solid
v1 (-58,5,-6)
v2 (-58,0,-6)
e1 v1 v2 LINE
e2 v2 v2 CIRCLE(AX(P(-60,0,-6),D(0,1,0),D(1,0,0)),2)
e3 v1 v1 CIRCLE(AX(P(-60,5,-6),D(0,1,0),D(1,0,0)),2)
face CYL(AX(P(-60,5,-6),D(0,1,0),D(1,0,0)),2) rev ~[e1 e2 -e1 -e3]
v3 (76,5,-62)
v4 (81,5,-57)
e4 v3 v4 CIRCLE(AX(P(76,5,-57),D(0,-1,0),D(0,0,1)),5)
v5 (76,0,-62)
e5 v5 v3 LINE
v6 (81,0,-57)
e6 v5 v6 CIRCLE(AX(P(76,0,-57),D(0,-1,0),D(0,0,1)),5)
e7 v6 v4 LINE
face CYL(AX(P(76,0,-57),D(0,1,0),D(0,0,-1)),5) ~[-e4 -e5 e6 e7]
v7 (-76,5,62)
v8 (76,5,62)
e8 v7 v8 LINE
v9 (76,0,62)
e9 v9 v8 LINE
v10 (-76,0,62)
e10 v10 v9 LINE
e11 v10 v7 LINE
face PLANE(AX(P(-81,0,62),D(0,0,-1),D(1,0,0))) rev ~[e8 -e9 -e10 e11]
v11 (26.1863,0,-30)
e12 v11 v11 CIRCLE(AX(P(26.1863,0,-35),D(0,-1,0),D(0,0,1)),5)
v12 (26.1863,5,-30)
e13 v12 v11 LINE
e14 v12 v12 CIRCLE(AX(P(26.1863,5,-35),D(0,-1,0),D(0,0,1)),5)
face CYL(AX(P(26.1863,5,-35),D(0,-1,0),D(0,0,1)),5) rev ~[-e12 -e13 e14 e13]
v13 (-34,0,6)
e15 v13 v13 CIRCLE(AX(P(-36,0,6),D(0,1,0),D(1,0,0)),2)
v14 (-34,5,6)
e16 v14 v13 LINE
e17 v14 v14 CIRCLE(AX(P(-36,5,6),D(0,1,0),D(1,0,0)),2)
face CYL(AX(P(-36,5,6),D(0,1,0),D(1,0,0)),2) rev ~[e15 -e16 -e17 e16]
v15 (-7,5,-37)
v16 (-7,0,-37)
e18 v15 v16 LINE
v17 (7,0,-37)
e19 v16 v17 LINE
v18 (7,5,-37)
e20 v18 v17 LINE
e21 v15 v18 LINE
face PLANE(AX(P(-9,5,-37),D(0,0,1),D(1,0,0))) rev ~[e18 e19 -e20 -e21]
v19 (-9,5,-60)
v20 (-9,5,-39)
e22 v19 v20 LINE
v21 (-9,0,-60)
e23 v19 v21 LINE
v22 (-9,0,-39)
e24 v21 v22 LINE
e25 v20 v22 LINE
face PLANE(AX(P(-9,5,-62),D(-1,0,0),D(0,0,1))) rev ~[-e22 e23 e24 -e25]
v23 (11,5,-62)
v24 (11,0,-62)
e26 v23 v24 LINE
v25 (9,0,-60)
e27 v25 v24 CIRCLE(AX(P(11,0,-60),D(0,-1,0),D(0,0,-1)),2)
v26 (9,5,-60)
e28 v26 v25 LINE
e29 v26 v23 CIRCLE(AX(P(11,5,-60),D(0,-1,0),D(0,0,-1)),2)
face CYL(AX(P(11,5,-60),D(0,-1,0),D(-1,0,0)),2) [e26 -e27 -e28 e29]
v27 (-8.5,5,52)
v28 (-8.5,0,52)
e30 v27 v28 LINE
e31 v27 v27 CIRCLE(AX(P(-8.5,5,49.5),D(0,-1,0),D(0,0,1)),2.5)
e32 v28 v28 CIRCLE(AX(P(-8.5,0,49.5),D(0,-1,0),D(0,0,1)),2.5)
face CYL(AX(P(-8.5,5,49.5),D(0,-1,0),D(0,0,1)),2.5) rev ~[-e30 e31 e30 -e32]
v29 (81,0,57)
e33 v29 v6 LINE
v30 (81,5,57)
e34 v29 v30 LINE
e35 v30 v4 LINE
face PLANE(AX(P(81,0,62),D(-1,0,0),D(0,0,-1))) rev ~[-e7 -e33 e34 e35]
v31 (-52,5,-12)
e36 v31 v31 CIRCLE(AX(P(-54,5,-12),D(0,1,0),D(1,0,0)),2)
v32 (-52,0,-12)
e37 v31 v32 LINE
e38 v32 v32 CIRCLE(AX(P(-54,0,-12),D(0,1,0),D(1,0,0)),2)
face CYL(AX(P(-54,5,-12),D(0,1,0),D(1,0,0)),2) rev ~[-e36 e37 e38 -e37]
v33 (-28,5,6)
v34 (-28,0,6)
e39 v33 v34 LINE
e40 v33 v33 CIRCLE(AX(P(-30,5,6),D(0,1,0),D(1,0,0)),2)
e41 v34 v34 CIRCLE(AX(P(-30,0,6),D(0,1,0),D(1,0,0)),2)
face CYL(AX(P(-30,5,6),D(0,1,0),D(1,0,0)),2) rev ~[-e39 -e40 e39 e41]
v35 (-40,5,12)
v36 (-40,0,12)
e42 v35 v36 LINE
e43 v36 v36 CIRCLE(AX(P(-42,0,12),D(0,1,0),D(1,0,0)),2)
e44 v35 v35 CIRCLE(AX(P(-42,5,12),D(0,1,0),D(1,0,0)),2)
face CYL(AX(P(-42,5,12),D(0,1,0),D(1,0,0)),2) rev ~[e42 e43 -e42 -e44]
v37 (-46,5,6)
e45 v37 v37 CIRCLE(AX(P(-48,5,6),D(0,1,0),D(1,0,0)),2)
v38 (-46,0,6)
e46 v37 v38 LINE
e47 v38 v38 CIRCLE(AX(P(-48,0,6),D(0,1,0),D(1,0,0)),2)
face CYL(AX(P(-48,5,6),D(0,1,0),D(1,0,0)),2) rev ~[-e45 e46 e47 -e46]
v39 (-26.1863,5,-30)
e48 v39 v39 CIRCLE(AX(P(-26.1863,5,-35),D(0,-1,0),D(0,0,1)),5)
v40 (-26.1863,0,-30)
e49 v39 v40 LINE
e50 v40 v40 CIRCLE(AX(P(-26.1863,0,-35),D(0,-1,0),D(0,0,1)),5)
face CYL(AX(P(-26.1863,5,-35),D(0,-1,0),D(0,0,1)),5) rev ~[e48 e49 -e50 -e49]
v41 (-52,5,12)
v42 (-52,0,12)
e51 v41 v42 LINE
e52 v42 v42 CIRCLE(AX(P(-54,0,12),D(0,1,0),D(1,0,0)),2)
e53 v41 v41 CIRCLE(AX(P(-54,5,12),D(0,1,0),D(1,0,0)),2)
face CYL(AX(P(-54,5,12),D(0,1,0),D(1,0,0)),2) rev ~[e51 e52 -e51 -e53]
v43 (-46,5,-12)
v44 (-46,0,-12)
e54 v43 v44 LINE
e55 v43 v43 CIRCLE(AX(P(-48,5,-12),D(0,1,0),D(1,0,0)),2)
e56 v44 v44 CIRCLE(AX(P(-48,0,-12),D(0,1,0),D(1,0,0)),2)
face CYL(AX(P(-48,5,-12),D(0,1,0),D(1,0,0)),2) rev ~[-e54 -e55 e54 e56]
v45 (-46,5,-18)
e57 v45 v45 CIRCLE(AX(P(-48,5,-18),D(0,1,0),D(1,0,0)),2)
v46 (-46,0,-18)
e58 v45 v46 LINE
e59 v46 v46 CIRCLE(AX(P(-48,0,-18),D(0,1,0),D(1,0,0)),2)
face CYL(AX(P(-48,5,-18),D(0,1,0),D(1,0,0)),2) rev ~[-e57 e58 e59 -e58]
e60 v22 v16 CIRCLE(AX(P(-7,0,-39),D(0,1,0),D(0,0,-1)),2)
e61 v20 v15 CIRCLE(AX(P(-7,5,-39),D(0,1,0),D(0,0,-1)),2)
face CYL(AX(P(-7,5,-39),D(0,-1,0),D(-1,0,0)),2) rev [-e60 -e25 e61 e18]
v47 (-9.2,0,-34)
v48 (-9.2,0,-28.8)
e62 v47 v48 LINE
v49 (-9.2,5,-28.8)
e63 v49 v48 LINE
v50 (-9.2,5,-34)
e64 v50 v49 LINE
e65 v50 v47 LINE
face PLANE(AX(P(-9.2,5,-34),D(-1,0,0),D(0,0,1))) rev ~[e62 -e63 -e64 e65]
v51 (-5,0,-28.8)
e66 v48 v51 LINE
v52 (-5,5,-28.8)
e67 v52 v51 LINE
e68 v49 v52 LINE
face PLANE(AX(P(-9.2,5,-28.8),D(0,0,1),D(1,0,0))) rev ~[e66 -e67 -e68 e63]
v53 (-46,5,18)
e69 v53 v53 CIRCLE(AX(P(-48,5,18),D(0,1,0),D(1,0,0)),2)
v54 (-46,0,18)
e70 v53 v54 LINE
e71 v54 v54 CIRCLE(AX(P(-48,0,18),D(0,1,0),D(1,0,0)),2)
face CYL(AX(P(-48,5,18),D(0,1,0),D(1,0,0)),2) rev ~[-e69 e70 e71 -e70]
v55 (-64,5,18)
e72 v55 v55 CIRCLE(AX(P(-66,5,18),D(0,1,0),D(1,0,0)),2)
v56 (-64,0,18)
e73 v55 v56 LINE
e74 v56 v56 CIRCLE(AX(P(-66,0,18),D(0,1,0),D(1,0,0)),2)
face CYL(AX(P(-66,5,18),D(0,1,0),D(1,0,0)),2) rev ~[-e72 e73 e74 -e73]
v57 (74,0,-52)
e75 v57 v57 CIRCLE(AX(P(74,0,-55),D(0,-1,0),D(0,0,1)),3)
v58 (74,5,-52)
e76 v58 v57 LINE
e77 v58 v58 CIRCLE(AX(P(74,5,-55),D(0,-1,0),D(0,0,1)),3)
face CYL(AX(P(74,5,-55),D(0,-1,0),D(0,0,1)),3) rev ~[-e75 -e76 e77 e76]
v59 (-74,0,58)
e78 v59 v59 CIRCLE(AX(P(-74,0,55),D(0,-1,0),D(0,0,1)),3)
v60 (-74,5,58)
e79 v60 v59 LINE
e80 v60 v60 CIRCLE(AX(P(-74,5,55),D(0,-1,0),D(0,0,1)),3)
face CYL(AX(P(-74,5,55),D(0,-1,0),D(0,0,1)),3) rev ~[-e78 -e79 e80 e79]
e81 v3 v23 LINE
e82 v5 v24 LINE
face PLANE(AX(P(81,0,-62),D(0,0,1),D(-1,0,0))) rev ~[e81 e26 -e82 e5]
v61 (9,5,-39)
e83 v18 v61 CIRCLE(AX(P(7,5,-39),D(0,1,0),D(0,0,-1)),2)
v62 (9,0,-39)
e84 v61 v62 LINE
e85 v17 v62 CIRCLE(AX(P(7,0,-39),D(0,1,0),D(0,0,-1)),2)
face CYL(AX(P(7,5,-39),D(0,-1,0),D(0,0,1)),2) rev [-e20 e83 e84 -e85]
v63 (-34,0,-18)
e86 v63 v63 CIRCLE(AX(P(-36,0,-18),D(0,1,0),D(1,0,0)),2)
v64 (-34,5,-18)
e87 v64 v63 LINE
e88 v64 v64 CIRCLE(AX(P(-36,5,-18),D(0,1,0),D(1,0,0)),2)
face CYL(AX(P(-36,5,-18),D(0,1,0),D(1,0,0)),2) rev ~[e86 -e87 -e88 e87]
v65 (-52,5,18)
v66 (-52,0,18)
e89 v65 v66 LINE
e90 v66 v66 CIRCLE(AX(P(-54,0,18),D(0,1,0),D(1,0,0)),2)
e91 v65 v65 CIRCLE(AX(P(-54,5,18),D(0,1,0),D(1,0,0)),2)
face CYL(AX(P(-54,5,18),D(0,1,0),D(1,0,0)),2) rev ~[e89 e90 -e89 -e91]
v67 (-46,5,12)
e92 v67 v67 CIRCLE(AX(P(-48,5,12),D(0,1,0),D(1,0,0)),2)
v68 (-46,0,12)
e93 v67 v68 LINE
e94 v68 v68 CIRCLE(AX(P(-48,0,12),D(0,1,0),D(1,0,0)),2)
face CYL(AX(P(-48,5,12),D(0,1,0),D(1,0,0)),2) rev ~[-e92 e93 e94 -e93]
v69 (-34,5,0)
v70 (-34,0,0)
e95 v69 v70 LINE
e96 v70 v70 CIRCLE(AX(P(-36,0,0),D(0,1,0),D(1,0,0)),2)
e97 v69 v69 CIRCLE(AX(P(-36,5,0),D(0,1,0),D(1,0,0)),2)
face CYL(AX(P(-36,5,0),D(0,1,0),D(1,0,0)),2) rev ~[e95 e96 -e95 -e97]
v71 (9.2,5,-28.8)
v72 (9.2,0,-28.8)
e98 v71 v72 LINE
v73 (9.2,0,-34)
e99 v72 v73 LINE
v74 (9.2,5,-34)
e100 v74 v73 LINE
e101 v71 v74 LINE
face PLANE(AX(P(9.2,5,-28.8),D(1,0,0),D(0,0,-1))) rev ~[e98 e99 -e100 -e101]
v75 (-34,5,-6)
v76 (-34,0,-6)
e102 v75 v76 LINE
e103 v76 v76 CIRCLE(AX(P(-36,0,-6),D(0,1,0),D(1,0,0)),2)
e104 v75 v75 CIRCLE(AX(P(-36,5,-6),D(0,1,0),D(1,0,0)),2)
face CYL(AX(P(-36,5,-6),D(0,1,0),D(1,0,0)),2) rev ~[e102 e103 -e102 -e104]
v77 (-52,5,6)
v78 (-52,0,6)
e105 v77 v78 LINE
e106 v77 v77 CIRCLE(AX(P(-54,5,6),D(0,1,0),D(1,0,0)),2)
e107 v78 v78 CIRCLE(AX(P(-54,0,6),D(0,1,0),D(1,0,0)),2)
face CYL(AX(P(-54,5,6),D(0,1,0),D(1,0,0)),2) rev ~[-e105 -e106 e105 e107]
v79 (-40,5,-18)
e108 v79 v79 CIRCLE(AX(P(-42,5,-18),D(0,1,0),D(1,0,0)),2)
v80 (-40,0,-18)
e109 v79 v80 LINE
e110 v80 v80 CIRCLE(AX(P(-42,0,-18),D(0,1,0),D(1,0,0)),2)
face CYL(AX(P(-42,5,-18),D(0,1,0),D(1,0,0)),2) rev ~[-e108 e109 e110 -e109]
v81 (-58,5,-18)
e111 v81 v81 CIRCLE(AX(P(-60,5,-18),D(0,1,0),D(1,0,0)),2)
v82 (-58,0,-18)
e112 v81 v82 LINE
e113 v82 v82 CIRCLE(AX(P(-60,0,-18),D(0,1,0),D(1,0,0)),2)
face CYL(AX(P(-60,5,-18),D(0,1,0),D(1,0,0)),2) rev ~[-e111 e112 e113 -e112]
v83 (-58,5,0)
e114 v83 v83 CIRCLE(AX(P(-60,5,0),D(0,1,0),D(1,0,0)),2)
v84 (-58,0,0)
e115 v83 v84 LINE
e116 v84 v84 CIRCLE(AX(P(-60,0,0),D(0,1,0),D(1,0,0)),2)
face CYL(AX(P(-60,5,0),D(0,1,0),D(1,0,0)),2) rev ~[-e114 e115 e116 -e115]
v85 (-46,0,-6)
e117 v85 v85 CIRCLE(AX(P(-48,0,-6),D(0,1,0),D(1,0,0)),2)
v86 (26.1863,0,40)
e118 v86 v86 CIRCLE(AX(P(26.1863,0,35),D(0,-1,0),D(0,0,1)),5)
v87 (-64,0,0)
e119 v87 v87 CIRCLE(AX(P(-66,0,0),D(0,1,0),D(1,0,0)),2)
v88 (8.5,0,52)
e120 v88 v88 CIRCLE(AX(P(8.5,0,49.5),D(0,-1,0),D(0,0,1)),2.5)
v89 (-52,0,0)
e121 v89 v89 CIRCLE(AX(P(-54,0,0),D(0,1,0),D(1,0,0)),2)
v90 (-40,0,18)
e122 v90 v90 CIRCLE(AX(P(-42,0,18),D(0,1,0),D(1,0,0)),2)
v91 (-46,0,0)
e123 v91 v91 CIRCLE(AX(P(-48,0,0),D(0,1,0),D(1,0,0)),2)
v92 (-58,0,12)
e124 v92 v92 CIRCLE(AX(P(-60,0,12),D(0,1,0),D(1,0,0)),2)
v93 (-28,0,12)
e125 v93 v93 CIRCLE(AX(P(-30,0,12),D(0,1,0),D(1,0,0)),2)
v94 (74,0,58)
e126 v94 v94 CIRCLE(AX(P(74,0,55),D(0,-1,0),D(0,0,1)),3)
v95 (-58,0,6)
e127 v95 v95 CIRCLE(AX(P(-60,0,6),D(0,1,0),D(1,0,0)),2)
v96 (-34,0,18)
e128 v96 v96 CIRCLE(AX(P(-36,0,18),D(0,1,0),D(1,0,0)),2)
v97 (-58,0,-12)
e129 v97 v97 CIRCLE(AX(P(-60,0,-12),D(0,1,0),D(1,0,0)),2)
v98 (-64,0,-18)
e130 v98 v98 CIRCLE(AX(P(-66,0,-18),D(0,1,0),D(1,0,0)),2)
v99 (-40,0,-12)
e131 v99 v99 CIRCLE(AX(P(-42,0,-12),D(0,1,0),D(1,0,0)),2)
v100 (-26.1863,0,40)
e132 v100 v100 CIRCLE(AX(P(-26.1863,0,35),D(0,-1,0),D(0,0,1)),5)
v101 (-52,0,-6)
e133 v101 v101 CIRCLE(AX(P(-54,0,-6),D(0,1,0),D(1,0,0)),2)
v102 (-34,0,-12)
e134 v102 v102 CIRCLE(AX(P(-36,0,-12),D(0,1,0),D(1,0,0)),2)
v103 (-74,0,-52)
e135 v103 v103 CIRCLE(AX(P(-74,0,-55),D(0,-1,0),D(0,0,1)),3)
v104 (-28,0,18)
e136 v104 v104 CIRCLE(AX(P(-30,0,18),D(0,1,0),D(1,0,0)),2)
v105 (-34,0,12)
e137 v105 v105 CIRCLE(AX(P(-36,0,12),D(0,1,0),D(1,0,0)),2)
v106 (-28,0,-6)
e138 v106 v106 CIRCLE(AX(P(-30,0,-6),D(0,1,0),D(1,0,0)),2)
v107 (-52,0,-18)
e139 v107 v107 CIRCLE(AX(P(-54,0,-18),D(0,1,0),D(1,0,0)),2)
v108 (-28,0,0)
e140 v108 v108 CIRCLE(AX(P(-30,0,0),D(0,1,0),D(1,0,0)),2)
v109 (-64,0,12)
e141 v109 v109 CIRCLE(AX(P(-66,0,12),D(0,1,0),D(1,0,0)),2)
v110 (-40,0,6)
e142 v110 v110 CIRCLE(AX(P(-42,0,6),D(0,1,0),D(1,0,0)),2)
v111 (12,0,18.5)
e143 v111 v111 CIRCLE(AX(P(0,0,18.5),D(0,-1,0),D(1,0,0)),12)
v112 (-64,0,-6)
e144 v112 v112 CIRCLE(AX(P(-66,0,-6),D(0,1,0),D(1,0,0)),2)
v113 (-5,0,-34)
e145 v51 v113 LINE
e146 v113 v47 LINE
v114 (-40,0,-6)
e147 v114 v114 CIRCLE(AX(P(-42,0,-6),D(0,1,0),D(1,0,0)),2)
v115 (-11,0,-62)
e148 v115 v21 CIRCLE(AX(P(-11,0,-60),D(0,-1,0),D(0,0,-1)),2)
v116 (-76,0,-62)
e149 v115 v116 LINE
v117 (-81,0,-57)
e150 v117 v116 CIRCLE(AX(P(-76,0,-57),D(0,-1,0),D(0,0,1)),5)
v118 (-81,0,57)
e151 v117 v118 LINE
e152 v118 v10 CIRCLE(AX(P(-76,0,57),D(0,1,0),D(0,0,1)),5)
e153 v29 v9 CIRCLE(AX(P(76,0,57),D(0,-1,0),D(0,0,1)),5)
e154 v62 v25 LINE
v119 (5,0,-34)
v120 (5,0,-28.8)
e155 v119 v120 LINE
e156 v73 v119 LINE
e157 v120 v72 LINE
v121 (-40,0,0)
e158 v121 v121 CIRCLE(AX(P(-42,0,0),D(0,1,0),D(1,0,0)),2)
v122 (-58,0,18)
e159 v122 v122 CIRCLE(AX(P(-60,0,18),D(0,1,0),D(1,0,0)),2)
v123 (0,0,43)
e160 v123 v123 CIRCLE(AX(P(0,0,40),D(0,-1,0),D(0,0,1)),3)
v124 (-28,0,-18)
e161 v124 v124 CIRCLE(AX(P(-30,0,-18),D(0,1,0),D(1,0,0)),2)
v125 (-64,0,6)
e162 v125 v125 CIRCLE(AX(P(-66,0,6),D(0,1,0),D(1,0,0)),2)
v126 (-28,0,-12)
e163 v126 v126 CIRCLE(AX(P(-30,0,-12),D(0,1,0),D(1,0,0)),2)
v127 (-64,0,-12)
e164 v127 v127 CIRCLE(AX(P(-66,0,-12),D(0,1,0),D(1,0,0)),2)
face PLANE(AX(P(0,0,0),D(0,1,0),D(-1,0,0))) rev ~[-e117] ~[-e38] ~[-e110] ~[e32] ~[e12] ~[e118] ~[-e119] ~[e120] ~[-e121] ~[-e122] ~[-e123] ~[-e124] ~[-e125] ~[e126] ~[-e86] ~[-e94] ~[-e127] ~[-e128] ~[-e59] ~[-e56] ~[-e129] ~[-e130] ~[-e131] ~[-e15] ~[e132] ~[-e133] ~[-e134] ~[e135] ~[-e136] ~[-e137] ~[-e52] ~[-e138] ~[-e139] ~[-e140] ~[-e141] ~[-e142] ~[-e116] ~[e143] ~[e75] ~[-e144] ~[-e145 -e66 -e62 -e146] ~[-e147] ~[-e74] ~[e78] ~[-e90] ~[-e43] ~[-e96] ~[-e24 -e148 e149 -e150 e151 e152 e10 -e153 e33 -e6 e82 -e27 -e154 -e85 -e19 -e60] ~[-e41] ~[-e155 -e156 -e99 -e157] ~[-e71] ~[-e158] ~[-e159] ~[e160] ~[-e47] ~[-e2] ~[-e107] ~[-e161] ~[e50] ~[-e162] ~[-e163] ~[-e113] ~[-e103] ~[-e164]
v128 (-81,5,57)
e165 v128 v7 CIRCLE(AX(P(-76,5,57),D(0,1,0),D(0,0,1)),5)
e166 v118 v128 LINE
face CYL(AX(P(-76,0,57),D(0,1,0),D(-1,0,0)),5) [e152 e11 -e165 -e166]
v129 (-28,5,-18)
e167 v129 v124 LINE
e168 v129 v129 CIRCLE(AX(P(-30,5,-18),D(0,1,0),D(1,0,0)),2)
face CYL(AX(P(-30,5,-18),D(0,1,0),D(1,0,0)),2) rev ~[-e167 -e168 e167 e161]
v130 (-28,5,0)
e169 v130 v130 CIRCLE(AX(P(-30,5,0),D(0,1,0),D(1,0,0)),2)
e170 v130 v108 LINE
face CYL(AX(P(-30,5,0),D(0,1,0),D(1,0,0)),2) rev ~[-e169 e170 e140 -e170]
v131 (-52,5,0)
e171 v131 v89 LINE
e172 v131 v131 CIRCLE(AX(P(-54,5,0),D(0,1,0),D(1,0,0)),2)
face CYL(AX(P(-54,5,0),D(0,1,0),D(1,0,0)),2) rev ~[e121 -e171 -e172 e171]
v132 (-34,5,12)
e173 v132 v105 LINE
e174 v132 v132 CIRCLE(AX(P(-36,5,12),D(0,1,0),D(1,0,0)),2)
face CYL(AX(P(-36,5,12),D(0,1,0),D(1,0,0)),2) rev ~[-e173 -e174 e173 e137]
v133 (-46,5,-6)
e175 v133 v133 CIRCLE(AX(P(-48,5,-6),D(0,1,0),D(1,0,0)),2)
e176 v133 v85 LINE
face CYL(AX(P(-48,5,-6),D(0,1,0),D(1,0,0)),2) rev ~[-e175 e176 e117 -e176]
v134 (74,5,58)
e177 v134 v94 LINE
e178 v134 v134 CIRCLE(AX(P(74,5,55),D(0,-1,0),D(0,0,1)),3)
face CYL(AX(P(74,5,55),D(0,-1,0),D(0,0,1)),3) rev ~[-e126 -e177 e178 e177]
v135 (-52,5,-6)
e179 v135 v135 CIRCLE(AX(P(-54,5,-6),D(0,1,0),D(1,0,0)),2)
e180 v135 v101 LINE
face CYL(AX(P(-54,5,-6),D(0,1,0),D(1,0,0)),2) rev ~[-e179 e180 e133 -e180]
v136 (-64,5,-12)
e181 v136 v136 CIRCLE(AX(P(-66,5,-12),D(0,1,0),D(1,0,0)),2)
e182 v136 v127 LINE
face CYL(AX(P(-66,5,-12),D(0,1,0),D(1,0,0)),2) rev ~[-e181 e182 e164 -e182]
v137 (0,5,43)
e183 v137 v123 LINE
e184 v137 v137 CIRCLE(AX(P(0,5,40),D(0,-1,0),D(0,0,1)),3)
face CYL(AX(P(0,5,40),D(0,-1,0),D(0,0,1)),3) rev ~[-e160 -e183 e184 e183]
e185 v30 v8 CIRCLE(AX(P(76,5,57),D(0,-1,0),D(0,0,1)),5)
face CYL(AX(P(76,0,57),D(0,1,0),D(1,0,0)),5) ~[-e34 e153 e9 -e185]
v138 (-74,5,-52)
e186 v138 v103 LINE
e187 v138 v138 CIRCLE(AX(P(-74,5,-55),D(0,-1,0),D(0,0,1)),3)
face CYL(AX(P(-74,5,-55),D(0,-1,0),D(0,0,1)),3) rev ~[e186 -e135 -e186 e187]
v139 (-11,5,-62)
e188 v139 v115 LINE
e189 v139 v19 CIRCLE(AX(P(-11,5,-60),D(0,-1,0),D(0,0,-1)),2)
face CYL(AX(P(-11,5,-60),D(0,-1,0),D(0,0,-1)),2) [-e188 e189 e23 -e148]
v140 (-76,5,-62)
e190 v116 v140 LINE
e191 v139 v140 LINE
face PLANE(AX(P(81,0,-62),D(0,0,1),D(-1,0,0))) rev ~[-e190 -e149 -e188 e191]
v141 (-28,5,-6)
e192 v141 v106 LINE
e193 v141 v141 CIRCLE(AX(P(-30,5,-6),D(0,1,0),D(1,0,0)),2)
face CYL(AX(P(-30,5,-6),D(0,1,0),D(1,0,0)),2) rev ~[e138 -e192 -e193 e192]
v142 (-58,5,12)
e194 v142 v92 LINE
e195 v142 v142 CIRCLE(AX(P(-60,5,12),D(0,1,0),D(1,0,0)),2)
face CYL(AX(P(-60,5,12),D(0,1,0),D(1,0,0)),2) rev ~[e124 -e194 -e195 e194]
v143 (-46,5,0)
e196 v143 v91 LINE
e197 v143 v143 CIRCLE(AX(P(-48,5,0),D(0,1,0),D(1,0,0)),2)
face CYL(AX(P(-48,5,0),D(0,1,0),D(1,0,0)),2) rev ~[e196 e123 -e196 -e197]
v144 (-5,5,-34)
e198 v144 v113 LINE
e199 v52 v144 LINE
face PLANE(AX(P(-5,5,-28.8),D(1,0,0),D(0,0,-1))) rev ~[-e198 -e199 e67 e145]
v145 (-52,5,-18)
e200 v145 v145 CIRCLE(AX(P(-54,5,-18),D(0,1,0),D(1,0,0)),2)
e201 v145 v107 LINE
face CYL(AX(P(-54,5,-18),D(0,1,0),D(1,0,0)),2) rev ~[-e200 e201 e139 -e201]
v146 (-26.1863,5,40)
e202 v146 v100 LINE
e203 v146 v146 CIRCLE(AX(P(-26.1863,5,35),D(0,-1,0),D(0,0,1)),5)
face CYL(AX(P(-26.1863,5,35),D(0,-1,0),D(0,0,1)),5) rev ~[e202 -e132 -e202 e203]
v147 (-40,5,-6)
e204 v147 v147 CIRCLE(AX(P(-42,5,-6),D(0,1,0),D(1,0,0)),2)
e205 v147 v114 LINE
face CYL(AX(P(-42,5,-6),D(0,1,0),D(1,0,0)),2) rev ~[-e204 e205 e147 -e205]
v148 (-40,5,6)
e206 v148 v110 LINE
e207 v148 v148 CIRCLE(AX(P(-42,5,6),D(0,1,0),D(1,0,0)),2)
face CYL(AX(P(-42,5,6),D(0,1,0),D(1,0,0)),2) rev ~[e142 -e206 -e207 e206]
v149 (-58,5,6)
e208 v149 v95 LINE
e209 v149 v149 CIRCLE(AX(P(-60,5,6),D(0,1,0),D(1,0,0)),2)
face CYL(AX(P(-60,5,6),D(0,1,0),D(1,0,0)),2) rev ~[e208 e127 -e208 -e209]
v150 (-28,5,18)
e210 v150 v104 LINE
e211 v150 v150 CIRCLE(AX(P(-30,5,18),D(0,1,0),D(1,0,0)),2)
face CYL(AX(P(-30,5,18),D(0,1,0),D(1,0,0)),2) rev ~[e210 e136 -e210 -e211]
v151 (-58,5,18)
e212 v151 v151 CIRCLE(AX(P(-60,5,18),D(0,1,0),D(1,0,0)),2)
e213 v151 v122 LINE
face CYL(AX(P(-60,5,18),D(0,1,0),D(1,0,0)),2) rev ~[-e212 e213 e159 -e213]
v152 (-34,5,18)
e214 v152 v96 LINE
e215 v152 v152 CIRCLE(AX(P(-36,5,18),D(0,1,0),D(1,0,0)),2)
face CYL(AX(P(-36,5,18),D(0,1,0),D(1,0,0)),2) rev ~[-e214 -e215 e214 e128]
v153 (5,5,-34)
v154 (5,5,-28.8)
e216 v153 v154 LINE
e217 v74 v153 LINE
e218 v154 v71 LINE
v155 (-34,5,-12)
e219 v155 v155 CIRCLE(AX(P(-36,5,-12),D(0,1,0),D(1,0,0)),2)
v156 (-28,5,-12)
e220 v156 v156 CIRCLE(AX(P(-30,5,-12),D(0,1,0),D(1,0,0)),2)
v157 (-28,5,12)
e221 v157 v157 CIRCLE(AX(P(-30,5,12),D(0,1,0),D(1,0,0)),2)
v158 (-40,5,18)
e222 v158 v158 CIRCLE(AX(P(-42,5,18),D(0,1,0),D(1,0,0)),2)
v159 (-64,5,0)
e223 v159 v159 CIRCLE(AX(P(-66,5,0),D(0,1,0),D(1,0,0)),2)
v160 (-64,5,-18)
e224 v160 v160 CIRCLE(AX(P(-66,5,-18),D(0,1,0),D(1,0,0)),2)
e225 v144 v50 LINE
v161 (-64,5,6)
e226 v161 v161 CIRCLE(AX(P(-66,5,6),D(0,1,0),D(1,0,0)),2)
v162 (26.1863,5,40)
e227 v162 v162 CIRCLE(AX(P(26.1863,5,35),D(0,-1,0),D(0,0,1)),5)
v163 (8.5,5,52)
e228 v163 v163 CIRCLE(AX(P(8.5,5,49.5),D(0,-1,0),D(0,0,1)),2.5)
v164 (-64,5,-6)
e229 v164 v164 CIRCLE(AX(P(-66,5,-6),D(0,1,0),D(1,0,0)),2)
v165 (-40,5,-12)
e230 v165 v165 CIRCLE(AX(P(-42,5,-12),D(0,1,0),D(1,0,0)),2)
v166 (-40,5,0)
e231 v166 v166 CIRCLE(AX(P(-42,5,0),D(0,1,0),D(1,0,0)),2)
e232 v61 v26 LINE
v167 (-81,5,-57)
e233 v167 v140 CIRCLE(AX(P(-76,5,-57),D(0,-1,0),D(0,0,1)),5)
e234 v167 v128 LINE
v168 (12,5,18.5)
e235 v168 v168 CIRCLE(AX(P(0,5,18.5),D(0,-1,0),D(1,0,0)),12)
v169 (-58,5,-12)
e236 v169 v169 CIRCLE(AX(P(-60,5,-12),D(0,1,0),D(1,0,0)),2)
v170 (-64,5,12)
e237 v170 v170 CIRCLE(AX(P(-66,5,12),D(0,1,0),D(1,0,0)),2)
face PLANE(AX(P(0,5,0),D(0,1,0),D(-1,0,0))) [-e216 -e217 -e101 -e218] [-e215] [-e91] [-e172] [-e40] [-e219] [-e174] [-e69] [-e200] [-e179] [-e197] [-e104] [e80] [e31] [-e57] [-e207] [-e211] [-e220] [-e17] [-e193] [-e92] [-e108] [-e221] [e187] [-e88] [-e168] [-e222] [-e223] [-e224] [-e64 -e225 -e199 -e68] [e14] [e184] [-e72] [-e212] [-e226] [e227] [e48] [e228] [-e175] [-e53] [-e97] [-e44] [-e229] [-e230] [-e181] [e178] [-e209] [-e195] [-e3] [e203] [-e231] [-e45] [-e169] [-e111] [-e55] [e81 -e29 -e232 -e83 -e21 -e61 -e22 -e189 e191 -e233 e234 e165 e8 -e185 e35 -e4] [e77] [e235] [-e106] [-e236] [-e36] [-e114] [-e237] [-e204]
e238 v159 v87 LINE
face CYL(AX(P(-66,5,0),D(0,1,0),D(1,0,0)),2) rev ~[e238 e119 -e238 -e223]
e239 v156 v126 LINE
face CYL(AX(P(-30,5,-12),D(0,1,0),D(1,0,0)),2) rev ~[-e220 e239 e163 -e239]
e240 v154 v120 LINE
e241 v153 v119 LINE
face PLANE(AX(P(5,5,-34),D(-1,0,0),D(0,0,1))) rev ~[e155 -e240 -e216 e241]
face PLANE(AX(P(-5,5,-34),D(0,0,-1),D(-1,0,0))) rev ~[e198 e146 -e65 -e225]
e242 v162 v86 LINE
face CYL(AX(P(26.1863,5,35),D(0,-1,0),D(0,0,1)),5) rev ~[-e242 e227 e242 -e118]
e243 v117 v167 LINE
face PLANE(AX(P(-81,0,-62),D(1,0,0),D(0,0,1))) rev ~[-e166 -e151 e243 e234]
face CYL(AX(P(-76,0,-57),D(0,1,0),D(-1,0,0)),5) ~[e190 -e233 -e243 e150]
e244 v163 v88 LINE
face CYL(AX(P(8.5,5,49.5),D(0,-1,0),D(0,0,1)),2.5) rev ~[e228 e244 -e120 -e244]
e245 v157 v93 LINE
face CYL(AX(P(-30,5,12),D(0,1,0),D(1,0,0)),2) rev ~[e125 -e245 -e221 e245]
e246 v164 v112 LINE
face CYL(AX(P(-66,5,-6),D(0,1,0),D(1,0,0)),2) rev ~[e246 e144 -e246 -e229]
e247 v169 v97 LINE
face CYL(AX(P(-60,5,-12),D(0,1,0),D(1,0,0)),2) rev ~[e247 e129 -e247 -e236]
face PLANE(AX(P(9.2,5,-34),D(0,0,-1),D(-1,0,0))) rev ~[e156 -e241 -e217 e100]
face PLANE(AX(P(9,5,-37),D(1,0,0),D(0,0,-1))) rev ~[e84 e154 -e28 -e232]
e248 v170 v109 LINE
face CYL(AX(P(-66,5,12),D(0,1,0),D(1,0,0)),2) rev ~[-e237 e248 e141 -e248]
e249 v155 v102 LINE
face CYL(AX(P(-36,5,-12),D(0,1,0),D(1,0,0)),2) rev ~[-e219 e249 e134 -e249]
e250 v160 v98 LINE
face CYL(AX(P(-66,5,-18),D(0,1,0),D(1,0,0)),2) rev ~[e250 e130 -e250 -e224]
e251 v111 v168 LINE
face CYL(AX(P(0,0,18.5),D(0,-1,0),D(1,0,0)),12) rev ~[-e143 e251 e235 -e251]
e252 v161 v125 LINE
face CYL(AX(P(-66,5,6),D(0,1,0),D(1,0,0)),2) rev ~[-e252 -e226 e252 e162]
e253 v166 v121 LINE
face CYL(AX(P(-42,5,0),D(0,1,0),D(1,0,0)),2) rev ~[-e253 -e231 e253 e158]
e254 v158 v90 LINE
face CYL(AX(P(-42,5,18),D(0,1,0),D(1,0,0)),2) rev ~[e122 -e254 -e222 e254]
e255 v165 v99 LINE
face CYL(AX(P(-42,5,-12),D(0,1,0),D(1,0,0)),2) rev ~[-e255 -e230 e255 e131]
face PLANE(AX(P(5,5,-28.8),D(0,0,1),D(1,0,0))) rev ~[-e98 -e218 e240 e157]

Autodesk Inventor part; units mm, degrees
ref_plane "YZ Plane" through (0, 0, 0) normal (1, 0, 0) x (0, 1, 0)
ref_plane "XZ Plane" through (0, 0, 0) normal (0, 1, 0) x (-1, 0, 0)
ref_plane "XY Plane" through (0, 0, 0) normal (0, 0, 1) x (1, 0, 0)
sketch "Sketch1" plane through (0, 0, 0) normal (0, 1, 0) x (-1, 0, 0)
  line L0 (81, 62) -> (-81, 62)
  line L1 (-81, 62) -> (-81, -62)
  line L2 (-81, -62) -> (81, -62)
  line L3 (81, -62) -> (81, 62)
  point P0 (0, 0)
  dimension "d127" = 162
  dimension "d128" = 81
  dimension "d129" = 124
  dimension "d130" = 62
extrude "Extrusion1" add sketch "Sketch1" along normal blind 5
fillet "Fillet1" radius 5 4 edges at (81, 2.5, 62) (-81, 2.5, 62) (-81, 2.5, -62) (81, 2.5, -62)
sketch "Sketch3" plane through (0, 5, 0) normal (0, 1, 0) x (1, 0, 0)
  circle A0 centre (74, -55) radius 3
  circle A1 centre (-74, -55) radius 3
  circle A2 centre (-74, 55) radius 3
  circle A3 centre (74, 55) radius 3
  line L0 (-81, 57) -> (-81, -57) projected
  line L1 (-76, -62) -> (76, -62) projected
  line L2 (81, -57) -> (81, 57) projected
  line L3 (76, 62) -> (-76, 62) projected
  point P0 (0, 0)
  dimension "d144" = 7
  dimension "d145" = 7
  dimension "d146" = 7
  dimension "d147" = 7
  dimension "d148" = 7
  dimension "d149" = 7
  dimension "d150" = 7
  dimension "d151" = 7
  dimension "d152" = 6
hole "Hole1" at (74, 5, 55) at (-74, 5, 55) at (74, 5, -55) at (-74, 5, -55) direction (0, -1, 0) diameter 6 end through all
sketch "Sketch4" plane through (0, 5, 0) normal (0, 1, 0) x (1, 0, 0)
  circle A0 centre (26.1863, -35) radius 5
  circle A1 centre (-26.1863, -35) radius 5
  circle A2 centre (0, 10.5) radius 5
  circle A3 centre (26.1863, 35) radius 5
  circle A4 centre (-26.1863, 35) radius 5
  point P0 (0, 0)
  dimension "d156" = 52.3726
  dimension "d157" = 70
  dimension "d158" = 24.5
  dimension "d159" = 26.1863
  dimension "d160" = 10
  dimension "d161" = 26.1863
  dimension "d162" = 35
hole "Hole2" at (-26.1863, 5, 35) at (26.1863, 5, 35) at (26.1863, 5, -35) at (-26.1863, 5, -35) direction (0, -1, 0) diameter 10 end through all
sketch "Sketch5" plane through (0, 0, 0) normal (0, -1, 0) x (1, 0, 0)
  circle A0 centre (0, 18.5) radius 12
  line L0 (-76, 62) -> (76, 62) projected
  line L1 (-81, -57) -> (-81, 57) projected
  point P0 (0, 0)
  dimension "d33" = 24
  dimension "d131" = 43.5
  dimension "d132" = 81
extrude "Extrusion3" cut sketch "Sketch5" against normal blind 10
sketch "Sketch7" plane through (0, 5, 0) normal (0, 1, 0) x (1, 0, 0)
  line L0 (9, 72) -> (-9, 72)
  line L1 (-9, 72) -> (-9, 37)
  line L2 (-9, 37) -> (9, 37)
  line L3 (9, 37) -> (9, 72)
  line L4 (76, 62) -> (-76, 62) projected
  point P0 (0, 0)
  point P1 (9, 62)
  point P2 (-9, 62)
  dimension "d133" = 18
  dimension "d134" = 35
  dimension "d136" = 10
  dimension "d137" = 9
extrude "Extrusion5" cut sketch "Sketch7" against normal through all contours L3 L2 L1 L4
sketch "Sketch9" plane through (0, 5, 0) normal (0, 1, 0) x (1, 0, 0)
  circle A0 centre (-8.5, -49.5) radius 2.5
  circle A1 centre (8.5, -49.5) radius 2.5
  line L0 (-76, -62) -> (76, -62) projected
  line L1 (81, -57) -> (81, 57) projected
  line L2 (-81, 57) -> (-81, -57) projected
  dimension "d51" = 5
  dimension "d53" = 5
  dimension "d138" = 12.5
  dimension "d139" = 72.5
  dimension "d140" = 12.5
  dimension "d141" = 72.5
hole "Hole4" at (-8.5, 5, 49.5) at (8.5, 5, 49.5) direction (0, -1, 0) diameter 5 end through all
sketch "Sketch10" plane through (0, 5, 0) normal (0, 1, 0) x (1, 0, 0)
  circle A0 centre (0, -40) radius 3
  line L0 (-76, -62) -> (76, -62) projected
  line L1 (81, -57) -> (81, 57) projected
  dimension "d64" = 6
  dimension "d142" = 22
  dimension "d143" = 81
hole "Hole5" at (0, 5, 40) direction (0, -1, 0) diameter 6 depth 20 tip angle 118
sketch "Sketch13" plane through (0, 5, 0) normal (0, 1, 0) x (1, 0, 0)
  line L0 (9.2, 34) -> (5, 34)
  line L1 (5, 34) -> (5, 28.8)
  line L2 (5, 28.8) -> (9.2, 28.8)
  line L3 (9.2, 28.8) -> (9.2, 34)
  line L4 (-5, 34) -> (-9.2, 34)
  line L5 (-9.2, 34) -> (-9.2, 28.8)
  line L6 (-9.2, 28.8) -> (-5, 28.8)
  line L7 (-5, 28.8) -> (-5, 34)
  line L8 (-71, 37) -> (-91, 37) construction
  line L9 (9, 113) -> (9, 92) construction
  line L10 (9, 62) -> (9, 37) projected
  line L11 (9, 37) -> (-9, 37) projected
  point P0 (0, 0)
  dimension "d101" = 3
  dimension "d102" = 5.2
  dimension "d103" = 4.2
  dimension "d104" = 4.2
  dimension "d105" = 18.4
  dimension "d106" = 0.2
  dimension "d163" = 0
  dimension "d164" = 0
extrude "Extrusion7" cut sketch "Sketch13" against normal up to surface (5 mm away)
sketch "Sketch14" plane through (0.0871, 5, 4.1003) normal (0, 1, 0) x (1, 0, 0)
  circle A0 centre (-66.0871, 22.1003) radius 2
  line L0 (-95.5598, 66.1003) -> (-160.5598, 66.1003) construction
  line L1 (-81.0871, 110.2374) -> (-81.0871, -19.7626) construction
  circle A1 centre (-66.0871, 16.1003) radius 2
  circle A2 centre (-66.0871, 10.1003) radius 2
  circle A3 centre (-66.0871, 4.1003) radius 2
  circle A4 centre (-66.0871, -1.8997) radius 2
  circle A5 centre (-66.0871, -7.8997) radius 2
  circle A6 centre (-66.0871, -13.8997) radius 2
  circle A7 centre (-60.0871, 22.1003) radius 2
  circle A8 centre (-60.0871, 16.1003) radius 2
  circle A9 centre (-60.0871, 10.1003) radius 2
  circle A10 centre (-60.0871, 4.1003) radius 2
  circle A11 centre (-60.0871, -1.8997) radius 2
  circle A12 centre (-60.0871, -7.8997) radius 2
  circle A13 centre (-60.0871, -13.8997) radius 2
  circle A14 centre (-54.0871, 22.1003) radius 2
  circle A15 centre (-54.0871, 16.1003) radius 2
  circle A16 centre (-54.0871, 10.1003) radius 2
  circle A17 centre (-54.0871, 4.1003) radius 2
  circle A18 centre (-54.0871, -1.8997) radius 2
  circle A19 centre (-54.0871, -7.8997) radius 2
  circle A20 centre (-54.0871, -13.8997) radius 2
  circle A21 centre (-48.0871, 22.1003) radius 2
  circle A22 centre (-48.0871, 16.1003) radius 2
  circle A23 centre (-48.0871, 10.1003) radius 2
  circle A24 centre (-48.0871, 4.1003) radius 2
  circle A25 centre (-48.0871, -1.8997) radius 2
  circle A26 centre (-48.0871, -7.8997) radius 2
  circle A27 centre (-48.0871, -13.8997) radius 2
  circle A28 centre (-42.0871, 22.1003) radius 2
  circle A29 centre (-42.0871, 16.1003) radius 2
  circle A30 centre (-42.0871, 10.1003) radius 2
  circle A31 centre (-42.0871, 4.1003) radius 2
  circle A32 centre (-42.0871, -1.8997) radius 2
  circle A33 centre (-42.0871, -7.8997) radius 2
  circle A34 centre (-42.0871, -13.8997) radius 2
  circle A35 centre (-36.0871, 22.1003) radius 2
  circle A36 centre (-36.0871, 16.1003) radius 2
  circle A37 centre (-36.0871, 10.1003) radius 2
  circle A38 centre (-36.0871, 4.1003) radius 2
  circle A39 centre (-36.0871, -1.8997) radius 2
  circle A40 centre (-36.0871, -7.8997) radius 2
  circle A41 centre (-36.0871, -13.8997) radius 2
  circle A42 centre (-30.0871, 22.1003) radius 2
  circle A43 centre (-30.0871, 16.1003) radius 2
  circle A44 centre (-30.0871, 10.1003) radius 2
  circle A45 centre (-30.0871, 4.1003) radius 2
  circle A46 centre (-30.0871, -1.8997) radius 2
  circle A47 centre (-30.0871, -7.8997) radius 2
  circle A48 centre (-30.0871, -13.8997) radius 2
  line L2 (-9.0871, 66.1003) -> (-76.0871, 66.1003) projected
  line L3 (-81.0871, 61.1003) -> (-81.0871, -52.8997) projected
  point P0 (0, 0)
  dimension "d117" = 44
  dimension "d116" = 15
  dimension "d115" = 4
  dimension "d110" = 6
  dimension "d109" = 6
  dimension "d165" = 0
  dimension "d166" = 0
extrude "Extrusion8" cut sketch "Sketch14" against normal through all
fillet "Fillet4" radius 2 4 edges at (-9, 2.5, -62) (-9, 2.5, -37) (9, 2.5, -37) (9, 2.5, -62)
equation "\"d161\" = 0.5 * d156"
equation "\"d162\" = 0.5 * d157"
equation "\"d54\" = d53"
equation "\"d68\" = d64"
properties part number "x_axis_plate_top_b" material "PET Plastic"
